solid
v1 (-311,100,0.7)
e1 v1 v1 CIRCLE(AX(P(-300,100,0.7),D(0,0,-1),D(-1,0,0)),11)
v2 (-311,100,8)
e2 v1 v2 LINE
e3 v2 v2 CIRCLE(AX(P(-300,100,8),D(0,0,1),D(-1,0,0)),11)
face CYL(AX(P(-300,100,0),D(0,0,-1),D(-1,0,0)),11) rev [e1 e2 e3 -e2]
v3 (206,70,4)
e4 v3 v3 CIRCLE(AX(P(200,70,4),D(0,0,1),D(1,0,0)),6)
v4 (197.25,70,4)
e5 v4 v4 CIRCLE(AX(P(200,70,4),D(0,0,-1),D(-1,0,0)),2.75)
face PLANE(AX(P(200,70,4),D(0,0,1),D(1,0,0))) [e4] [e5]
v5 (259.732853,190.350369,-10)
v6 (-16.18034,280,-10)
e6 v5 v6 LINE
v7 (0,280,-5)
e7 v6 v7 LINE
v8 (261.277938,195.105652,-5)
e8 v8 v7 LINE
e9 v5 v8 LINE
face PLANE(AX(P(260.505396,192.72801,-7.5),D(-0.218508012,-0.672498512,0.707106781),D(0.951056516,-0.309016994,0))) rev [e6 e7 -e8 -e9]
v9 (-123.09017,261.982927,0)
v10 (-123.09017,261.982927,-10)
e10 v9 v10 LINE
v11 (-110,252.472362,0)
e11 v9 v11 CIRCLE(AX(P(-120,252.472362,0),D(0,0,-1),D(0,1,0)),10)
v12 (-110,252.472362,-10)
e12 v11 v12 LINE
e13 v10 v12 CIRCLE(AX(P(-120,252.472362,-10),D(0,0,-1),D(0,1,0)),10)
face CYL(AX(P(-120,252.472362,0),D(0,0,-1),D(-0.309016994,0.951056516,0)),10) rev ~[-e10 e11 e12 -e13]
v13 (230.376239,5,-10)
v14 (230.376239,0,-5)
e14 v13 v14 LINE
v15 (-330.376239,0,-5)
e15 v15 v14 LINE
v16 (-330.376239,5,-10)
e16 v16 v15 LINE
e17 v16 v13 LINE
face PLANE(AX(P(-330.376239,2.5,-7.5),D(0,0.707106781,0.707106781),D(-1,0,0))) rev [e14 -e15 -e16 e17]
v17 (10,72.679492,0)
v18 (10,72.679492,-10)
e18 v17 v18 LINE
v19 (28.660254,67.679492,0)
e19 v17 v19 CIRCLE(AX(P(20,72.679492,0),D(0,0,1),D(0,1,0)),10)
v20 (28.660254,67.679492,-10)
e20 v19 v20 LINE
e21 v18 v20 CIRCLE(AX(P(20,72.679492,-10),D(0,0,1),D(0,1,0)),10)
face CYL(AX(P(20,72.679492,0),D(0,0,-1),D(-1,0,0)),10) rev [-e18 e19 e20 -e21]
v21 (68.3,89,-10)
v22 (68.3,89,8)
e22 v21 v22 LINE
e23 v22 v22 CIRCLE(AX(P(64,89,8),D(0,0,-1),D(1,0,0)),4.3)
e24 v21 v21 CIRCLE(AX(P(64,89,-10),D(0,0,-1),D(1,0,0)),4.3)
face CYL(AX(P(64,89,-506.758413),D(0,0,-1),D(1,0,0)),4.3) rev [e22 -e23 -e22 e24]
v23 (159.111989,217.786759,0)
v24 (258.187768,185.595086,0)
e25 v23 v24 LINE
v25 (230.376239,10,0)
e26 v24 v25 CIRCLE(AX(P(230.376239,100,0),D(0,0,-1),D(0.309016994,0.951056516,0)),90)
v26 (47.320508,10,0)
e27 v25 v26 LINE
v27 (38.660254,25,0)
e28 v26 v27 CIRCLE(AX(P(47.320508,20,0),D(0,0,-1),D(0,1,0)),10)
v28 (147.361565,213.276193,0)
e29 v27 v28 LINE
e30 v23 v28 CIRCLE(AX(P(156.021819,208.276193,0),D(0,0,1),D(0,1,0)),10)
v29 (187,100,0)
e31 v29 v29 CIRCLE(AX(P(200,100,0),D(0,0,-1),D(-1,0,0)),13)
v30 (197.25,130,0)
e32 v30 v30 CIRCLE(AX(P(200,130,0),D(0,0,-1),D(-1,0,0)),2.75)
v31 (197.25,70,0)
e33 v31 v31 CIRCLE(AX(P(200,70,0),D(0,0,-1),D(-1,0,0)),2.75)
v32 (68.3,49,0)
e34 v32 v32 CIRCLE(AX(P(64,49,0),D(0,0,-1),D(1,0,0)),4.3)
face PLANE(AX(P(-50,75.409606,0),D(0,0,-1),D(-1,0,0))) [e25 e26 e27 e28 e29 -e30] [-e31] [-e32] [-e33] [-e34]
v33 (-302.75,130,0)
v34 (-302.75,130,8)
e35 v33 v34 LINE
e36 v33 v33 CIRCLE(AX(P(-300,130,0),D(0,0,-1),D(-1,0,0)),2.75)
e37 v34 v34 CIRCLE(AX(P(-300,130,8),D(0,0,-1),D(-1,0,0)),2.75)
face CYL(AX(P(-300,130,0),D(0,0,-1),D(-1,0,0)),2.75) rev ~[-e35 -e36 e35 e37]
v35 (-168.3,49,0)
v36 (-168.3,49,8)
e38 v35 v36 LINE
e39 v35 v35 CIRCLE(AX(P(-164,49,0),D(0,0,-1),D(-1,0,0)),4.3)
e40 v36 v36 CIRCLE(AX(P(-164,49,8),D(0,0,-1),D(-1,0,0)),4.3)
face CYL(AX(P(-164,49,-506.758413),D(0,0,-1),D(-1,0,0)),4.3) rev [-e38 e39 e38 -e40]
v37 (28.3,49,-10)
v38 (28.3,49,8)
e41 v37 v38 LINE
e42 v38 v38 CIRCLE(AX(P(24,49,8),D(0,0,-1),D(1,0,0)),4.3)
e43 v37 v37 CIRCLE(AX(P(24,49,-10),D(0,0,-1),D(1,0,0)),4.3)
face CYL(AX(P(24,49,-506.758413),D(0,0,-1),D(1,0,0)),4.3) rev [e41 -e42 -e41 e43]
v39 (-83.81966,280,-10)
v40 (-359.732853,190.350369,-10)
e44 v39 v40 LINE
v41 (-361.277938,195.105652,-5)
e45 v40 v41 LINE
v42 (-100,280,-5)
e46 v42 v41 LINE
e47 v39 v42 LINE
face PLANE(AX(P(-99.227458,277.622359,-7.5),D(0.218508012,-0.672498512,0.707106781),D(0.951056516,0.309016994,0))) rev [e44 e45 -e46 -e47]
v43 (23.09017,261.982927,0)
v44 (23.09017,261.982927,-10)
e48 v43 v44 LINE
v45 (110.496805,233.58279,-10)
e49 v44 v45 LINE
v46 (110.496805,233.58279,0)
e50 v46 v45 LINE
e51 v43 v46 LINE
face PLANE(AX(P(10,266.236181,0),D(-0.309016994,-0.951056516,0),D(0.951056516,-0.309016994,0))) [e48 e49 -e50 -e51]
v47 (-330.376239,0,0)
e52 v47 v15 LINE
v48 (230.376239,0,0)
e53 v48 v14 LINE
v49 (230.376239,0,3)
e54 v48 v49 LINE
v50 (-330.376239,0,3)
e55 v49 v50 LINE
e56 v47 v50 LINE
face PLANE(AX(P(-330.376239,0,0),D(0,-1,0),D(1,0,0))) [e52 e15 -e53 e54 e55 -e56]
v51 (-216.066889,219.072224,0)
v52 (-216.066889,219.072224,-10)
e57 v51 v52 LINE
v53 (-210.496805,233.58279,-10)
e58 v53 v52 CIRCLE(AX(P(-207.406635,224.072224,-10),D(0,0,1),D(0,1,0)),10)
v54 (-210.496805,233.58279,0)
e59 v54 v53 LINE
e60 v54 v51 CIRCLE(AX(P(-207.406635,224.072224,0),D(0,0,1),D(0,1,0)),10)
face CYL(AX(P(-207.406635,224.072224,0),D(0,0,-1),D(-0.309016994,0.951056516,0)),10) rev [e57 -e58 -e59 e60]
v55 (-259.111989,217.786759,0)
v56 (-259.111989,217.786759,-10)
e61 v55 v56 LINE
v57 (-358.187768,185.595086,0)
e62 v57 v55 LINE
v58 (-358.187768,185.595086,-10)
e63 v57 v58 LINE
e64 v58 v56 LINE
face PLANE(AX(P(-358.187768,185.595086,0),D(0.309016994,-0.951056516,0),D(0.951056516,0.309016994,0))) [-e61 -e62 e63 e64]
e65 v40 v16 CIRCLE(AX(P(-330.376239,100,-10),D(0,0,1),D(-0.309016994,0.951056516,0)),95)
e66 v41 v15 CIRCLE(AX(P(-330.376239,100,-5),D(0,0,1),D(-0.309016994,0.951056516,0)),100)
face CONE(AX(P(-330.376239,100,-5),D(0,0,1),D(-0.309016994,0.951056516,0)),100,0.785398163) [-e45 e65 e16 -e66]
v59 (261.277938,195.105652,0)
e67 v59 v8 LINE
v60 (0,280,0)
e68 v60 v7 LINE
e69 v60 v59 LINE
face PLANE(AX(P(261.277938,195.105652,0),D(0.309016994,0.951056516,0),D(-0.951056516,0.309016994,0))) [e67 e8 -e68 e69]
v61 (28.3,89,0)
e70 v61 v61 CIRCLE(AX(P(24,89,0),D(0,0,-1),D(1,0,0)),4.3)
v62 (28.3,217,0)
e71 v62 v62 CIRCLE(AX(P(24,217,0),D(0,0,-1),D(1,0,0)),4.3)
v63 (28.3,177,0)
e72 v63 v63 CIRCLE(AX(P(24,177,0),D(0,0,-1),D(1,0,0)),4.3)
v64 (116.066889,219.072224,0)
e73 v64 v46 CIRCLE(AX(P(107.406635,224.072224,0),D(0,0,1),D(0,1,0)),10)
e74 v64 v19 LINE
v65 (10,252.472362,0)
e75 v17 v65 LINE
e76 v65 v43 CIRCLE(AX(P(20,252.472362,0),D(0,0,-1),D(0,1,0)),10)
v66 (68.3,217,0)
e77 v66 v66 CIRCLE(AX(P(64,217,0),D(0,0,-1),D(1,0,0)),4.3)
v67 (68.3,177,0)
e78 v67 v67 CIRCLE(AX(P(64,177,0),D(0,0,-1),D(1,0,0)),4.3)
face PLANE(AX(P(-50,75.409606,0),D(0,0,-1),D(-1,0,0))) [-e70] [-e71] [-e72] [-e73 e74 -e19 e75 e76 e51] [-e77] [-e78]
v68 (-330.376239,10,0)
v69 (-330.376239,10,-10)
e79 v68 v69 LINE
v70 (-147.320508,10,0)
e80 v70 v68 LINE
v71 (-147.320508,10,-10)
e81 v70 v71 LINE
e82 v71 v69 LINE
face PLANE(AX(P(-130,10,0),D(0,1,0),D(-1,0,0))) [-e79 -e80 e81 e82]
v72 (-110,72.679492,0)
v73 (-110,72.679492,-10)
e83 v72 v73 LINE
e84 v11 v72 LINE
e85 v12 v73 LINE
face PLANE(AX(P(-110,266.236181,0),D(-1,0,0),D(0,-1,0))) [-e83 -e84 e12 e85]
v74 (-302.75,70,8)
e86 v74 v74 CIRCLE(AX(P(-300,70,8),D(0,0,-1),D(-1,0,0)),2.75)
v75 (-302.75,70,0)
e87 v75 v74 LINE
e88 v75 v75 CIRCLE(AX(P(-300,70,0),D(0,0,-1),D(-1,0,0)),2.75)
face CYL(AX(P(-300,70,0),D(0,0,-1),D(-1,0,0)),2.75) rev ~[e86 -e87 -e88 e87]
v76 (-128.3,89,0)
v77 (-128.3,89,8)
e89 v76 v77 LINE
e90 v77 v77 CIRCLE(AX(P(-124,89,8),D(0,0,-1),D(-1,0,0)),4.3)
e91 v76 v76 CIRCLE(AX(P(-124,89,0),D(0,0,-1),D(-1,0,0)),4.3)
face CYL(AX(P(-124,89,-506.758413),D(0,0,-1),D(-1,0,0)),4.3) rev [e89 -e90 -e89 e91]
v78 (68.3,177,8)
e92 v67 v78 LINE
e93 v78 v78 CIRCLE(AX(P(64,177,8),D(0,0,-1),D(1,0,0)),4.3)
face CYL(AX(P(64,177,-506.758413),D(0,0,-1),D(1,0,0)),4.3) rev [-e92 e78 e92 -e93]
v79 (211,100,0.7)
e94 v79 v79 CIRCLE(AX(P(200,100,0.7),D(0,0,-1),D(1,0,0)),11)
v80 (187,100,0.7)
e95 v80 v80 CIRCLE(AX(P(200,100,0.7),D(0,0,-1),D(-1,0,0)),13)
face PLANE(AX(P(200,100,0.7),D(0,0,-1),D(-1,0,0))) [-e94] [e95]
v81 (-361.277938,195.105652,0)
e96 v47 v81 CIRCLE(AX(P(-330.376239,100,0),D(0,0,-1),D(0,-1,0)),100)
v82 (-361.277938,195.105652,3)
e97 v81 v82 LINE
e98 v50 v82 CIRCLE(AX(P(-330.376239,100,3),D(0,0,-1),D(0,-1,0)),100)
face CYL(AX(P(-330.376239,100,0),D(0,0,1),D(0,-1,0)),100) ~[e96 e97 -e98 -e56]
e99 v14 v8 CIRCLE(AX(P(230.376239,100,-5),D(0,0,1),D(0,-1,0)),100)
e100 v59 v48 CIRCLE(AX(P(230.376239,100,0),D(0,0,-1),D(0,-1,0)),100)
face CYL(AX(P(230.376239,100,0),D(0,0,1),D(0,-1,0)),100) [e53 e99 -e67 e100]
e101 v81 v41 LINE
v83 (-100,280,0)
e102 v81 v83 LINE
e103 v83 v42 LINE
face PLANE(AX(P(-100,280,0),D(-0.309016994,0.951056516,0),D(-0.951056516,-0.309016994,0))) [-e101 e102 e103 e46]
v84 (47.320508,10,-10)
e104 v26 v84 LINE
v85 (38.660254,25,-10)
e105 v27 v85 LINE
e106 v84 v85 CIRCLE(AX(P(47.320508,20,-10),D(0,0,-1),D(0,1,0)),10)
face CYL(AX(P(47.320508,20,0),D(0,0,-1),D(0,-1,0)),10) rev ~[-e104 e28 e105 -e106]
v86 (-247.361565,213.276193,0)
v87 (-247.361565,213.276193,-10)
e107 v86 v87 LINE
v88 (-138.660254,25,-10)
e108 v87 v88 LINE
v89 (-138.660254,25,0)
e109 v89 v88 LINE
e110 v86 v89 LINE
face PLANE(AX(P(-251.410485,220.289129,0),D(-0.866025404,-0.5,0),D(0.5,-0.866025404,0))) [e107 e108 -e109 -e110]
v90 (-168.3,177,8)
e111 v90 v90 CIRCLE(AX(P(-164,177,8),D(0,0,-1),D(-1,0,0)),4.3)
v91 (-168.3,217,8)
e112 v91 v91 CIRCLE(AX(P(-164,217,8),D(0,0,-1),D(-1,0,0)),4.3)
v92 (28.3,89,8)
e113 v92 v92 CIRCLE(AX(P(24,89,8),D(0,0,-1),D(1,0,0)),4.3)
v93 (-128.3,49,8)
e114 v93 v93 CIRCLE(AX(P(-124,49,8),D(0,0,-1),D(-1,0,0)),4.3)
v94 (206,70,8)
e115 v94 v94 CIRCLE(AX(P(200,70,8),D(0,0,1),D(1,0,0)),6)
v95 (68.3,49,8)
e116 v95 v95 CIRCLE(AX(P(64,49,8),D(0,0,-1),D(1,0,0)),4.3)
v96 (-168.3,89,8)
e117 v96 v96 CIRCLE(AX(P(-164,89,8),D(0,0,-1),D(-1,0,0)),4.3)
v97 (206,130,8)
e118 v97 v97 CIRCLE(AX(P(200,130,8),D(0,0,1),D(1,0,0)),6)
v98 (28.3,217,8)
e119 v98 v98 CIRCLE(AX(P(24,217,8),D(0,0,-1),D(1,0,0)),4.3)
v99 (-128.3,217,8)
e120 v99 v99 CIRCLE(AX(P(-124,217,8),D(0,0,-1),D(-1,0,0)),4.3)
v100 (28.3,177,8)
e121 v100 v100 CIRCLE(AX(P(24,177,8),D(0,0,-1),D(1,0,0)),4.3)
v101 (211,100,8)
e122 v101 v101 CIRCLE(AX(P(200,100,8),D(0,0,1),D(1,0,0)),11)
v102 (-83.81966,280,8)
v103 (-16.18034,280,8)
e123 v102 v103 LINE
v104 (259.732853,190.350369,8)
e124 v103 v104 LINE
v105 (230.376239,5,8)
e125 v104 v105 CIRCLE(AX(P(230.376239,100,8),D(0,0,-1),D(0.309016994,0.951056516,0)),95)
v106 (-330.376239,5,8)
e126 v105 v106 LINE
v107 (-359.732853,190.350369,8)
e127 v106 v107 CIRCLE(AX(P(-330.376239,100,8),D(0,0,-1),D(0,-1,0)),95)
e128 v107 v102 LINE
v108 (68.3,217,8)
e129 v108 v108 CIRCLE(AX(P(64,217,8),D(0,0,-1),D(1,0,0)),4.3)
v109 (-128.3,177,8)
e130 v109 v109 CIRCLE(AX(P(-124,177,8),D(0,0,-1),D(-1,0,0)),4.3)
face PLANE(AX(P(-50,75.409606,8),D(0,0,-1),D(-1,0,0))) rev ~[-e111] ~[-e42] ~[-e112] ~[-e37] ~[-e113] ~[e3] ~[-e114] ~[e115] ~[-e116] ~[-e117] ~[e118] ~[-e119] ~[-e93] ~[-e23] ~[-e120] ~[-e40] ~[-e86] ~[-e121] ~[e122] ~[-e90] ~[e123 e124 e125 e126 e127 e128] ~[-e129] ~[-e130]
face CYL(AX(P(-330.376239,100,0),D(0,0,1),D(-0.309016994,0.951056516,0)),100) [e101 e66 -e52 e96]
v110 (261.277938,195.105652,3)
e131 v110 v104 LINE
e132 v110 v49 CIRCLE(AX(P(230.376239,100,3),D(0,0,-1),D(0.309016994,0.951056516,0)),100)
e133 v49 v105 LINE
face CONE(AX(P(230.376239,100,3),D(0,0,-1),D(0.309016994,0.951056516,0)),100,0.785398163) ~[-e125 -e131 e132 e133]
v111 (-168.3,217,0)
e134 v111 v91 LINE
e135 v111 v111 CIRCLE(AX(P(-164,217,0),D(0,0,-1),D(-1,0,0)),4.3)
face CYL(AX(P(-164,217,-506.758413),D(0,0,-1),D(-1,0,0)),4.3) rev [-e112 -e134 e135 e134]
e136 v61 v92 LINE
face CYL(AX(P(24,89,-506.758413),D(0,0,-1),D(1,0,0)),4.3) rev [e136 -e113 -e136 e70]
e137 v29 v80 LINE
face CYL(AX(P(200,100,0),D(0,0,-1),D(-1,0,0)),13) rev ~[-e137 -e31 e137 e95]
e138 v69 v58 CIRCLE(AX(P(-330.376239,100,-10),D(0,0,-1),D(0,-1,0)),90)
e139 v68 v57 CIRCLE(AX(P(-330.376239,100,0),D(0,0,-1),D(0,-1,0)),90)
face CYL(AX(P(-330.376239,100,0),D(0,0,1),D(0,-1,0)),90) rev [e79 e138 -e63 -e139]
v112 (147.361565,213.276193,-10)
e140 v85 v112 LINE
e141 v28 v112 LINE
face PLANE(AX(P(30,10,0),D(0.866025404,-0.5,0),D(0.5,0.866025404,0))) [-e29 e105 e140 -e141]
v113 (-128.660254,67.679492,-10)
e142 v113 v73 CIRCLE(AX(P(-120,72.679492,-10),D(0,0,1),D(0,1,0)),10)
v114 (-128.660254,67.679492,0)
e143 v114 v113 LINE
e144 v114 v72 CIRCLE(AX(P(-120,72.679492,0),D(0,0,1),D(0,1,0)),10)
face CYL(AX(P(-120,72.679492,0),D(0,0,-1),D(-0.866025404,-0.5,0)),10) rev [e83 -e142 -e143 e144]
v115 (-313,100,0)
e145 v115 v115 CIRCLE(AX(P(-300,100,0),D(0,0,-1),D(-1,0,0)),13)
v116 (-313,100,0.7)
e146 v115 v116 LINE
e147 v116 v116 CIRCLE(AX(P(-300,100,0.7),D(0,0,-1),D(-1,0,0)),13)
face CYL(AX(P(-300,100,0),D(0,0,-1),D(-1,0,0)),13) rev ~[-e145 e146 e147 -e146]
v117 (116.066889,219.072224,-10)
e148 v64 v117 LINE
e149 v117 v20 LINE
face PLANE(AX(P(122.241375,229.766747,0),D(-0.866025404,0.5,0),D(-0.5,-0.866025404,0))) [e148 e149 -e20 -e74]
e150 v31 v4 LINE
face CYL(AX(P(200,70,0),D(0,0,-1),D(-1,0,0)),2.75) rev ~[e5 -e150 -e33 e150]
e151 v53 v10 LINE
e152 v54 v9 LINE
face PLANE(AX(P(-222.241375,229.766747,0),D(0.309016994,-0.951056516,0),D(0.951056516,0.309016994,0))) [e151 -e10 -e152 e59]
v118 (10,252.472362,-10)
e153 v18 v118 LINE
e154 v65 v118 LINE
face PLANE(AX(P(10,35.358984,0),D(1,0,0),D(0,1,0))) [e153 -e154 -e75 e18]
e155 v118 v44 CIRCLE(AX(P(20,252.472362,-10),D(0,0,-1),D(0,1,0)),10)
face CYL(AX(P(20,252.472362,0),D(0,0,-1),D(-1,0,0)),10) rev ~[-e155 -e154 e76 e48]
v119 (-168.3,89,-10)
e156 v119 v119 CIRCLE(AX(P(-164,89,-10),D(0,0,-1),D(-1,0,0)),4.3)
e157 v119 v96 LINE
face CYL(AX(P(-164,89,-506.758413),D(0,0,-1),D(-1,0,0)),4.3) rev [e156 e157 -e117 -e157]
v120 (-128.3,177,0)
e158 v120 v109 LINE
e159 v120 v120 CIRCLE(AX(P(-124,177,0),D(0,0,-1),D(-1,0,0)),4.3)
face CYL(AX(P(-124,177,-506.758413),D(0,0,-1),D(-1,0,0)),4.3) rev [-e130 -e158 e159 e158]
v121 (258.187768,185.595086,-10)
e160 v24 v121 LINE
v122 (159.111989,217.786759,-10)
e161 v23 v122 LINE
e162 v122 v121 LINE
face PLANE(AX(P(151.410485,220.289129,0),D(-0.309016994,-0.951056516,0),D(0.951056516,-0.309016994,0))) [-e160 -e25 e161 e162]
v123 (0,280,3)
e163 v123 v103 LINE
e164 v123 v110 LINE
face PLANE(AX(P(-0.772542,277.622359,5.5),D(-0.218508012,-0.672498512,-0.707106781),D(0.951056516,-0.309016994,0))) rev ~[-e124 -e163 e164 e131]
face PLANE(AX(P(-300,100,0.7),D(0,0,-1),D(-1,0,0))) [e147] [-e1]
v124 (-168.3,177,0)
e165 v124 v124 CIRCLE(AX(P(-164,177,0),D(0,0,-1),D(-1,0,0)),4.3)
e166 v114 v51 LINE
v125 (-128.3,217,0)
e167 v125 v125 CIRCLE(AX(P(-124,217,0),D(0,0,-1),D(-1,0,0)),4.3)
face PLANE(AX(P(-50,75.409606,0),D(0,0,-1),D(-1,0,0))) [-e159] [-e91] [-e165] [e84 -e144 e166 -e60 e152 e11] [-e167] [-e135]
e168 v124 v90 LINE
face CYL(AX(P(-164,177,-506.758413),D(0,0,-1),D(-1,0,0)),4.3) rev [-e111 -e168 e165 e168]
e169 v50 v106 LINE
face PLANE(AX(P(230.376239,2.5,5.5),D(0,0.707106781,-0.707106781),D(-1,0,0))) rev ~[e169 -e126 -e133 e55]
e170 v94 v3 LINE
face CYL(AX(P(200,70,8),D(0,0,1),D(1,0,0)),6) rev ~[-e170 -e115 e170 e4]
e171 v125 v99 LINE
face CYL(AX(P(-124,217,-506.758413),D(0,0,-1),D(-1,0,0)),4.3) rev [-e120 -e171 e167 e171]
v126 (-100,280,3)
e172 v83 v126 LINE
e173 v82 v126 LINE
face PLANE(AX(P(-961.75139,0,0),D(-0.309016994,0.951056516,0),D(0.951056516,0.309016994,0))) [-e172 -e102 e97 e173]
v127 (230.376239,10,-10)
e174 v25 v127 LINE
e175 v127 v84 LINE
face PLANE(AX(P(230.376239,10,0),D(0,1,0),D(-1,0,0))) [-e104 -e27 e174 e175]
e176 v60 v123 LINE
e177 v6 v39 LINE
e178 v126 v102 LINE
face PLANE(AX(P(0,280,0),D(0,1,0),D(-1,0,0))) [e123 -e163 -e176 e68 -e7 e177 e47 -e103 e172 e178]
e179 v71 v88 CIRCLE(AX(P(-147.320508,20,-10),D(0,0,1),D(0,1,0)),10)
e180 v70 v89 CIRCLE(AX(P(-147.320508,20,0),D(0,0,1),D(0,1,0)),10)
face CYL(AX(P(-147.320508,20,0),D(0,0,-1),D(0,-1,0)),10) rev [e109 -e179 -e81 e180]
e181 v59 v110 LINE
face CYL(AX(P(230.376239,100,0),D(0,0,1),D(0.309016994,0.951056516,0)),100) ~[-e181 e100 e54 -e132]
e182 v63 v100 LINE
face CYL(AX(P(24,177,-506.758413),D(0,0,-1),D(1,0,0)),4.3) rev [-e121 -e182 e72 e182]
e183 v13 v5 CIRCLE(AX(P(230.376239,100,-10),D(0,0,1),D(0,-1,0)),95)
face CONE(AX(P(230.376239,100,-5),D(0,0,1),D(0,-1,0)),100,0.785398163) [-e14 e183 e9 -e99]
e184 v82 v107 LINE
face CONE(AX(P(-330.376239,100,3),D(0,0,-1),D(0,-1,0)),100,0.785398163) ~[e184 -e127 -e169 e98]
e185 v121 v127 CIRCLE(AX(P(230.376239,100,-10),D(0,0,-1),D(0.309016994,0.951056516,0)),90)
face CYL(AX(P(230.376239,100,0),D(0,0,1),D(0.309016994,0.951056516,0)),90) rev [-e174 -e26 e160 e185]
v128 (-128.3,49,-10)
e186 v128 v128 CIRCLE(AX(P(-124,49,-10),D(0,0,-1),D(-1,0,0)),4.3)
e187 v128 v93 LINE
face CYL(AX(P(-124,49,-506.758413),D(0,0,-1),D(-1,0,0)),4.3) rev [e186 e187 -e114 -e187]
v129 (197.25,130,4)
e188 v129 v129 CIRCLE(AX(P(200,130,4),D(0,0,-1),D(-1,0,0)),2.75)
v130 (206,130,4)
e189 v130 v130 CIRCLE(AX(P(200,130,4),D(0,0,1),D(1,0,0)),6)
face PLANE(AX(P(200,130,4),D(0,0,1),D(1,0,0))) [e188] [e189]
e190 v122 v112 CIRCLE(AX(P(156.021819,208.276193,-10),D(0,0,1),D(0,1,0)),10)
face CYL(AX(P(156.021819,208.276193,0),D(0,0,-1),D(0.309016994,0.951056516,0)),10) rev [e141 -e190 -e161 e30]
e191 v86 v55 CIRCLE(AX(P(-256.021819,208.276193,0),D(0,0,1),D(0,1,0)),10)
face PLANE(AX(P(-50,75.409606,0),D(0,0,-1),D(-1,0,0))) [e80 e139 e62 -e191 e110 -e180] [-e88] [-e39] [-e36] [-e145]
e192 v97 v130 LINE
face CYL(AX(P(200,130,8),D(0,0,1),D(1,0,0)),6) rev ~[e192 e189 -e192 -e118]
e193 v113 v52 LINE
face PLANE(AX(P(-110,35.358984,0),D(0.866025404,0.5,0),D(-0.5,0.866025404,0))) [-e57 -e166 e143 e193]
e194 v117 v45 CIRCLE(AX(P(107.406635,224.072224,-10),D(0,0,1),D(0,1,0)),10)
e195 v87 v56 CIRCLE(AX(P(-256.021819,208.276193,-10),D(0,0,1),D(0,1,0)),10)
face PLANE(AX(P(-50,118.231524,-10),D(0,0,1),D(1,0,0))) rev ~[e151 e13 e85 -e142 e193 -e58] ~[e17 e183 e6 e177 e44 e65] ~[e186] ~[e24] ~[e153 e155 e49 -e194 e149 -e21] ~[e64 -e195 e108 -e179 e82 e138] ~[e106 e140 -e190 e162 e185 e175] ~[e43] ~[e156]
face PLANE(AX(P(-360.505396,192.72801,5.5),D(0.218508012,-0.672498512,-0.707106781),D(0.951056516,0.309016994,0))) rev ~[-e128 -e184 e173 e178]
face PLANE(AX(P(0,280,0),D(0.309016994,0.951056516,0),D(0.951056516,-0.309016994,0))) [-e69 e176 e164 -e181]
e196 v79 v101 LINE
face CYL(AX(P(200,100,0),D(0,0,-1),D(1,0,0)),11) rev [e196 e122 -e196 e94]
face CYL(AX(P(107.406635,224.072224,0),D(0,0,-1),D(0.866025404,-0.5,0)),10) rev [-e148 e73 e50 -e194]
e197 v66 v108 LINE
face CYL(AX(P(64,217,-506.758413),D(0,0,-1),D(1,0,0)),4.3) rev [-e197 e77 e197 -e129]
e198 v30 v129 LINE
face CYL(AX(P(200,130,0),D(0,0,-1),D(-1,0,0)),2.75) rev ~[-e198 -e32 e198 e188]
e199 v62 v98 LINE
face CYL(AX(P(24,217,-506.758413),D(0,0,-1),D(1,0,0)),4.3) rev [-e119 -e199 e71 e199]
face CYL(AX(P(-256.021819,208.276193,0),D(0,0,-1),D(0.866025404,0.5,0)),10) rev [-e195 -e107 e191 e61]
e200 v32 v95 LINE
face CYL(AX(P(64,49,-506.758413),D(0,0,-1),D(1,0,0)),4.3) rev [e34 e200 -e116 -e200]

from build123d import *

# Parameters (mm, degrees)
SKETCH_1_R               = 11
EXTRUDE_1_DEPTH          = 8
FILLET_1_R               = 100
FILLET_3_R               = 100
EXTRUDE_2_DEPTH          = 10
FILLET_2_R               = 10
CHAMFER_1_SIZE           = 5
SKETCH_4_R               = 13
CUT_EXTRUDE_1_DEPTH      = 0.7
SKETCH_5_R               = 2.75
CUT_EXTRUDE_2_DEPTH      = 514.540365546
SKETCH_6_R               = 6
CUT_EXTRUDE_3_DEPTH      = 4
CUT_EXTRUDE_4_DEPTH      = 514.758413114
CUT_EXTRUDE_4_DEPTH_BACK = 514.758413114
SKETCH_7_R               = 4.3


with BuildPart() as part:
    # 草图1 → 凸台-拉伸1 (new body)
    with BuildSketch(Plane.XY):
        Polygon((0, 280), (861.751390409, 0), (0, 0), (-100, 0), (-961.751390409, 0), (-100, 280), align=None)
        with Locations((200, 100)):
            Circle(SKETCH_1_R, mode=Mode.SUBTRACT)
        with Locations(Location((-300, 100, 0), (0, 0, 180))):
            Circle(SKETCH_1_R, mode=Mode.SUBTRACT)
    extrude(amount=EXTRUDE_1_DEPTH)

    # 圆角1
    fillet_1_edges = [part.edges().sort_by_distance(p)[0] for p in [
        (861.751390409, 0, 4),
    ]]
    fillet(fillet_1_edges, radius=FILLET_1_R)

    # 圆角3
    fillet_3_edges = [part.edges().sort_by_distance(p)[0] for p in [
        (-961.751390409, 0, 4),
    ]]
    fillet(fillet_3_edges, radius=FILLET_3_R)

    # 草图2 → 凸台-拉伸2 (add)
    with BuildSketch(Plane.XY):
        with BuildLine():
            Line((0, 280), (-100, 280))
            Line((-100, 280), (-361.277938379, 195.10565163))
            ThreePointArc((-361.277938379, 195.10565163), (-429.145073001, 84.356553496), (-330.376238942, 0))
            Line((-330.376238942, 0), (230.376238942, 0))
            ThreePointArc((230.376238942, 0), (329.145073001, 84.356553496), (261.277938379, 195.10565163))
            Line((261.277938379, 195.10565163), (0, 280))
        make_face()
        Polygon((10, 266.236180795), (122.241374643, 229.766747442), (10, 35.358983849), align=None, mode=Mode.SUBTRACT)
        with BuildLine():
            Line((230.376238942, 10), (30, 10))
            Line((30, 10), (151.410485182, 220.289128906))
            Line((151.410485182, 220.289128906), (258.187768435, 185.595086467))
            ThreePointArc((258.187768435, 185.595086467), (319.268189595, 85.920898146), (230.376238942, 10))
        make_face(mode=Mode.SUBTRACT)
        Polygon((-110, 266.236180795), (-110, 35.358983849), (-222.241374643, 229.766747442), align=None, mode=Mode.SUBTRACT)
        with BuildLine():
            Line((-358.187768435, 185.595086467), (-251.410485182, 220.289128906))
            Line((-251.410485182, 220.289128906), (-130, 10))
            Line((-130, 10), (-330.376238942, 10))
            ThreePointArc((-330.376238942, 10), (-419.268189595, 85.920898146), (-358.187768435, 185.595086467))
        make_face(mode=Mode.SUBTRACT)
    extrude(amount=-EXTRUDE_2_DEPTH)

    # 圆角2
    fillet_2_edges = [part.edges().sort_by_distance(p)[0] for p in [
        (-110, 35.358983849, -5),
        (-110, 266.236180795, -5),
        (-130, 10, -5),
        (10, 266.236180795, -5),
        (10, 35.358983849, -5),
        (151.410485182, 220.289128906, -5),
        (30, 10, -5),
        (-251.410485182, 220.289128906, -5),
        (122.241374643, 229.766747442, -5),
        (-222.241374643, 229.766747442, -5),
    ]]
    fillet(fillet_2_edges, radius=FILLET_2_R)

    # 倒角1
    chamfer_1_edges = [part.edges().sort_by_distance(p)[0] for p in [
        (-230.63896919, 237.552825815, 8),
        (130.63896919, 237.552825815, 8),
        (329.145073001, 84.356553496, 8),
        (-50, 0, 8),
        (-429.145073001, 84.356553496, 8),
        (-230.63896919, 237.552825815, -10),
        (130.63896919, 237.552825815, -10),
        (329.145073001, 84.356553496, -10),
        (-50, 0, -10),
        (-429.145073001, 84.356553496, -10),
    ]]
    chamfer(chamfer_1_edges, length=CHAMFER_1_SIZE)

    # 草图4 → 切除-拉伸1 (cut)
    with BuildSketch(Plane(origin=(0, 0, 0), x_dir=(-1, 0, 0), z_dir=(0, 0, -1))):
        with Locations((-200, 100)):
            Circle(SKETCH_4_R)
        with Locations((300, 100)):
            Circle(SKETCH_4_R)
    extrude(amount=-CUT_EXTRUDE_1_DEPTH, mode=Mode.SUBTRACT)

    # 草图5 → 切除-拉伸2 (cut, through all)
    with BuildSketch(Plane(origin=(0, 0, 0), x_dir=(-1, 0, 0), z_dir=(0, 0, -1))):
        with Locations((-200, 130)):
            Circle(SKETCH_5_R)
        with Locations((-200, 70)):
            Circle(SKETCH_5_R)
        with Locations((300, 130)):
            Circle(SKETCH_5_R)
        with Locations((300, 70)):
            Circle(SKETCH_5_R)
    extrude(amount=-CUT_EXTRUDE_2_DEPTH, mode=Mode.SUBTRACT)

    # 草图6 → 切除-拉伸3 (cut)
    with BuildSketch(Plane.XY.offset(8)):
        with Locations((200, 130)):
            Circle(SKETCH_6_R)
        with Locations((200, 70)):
            Circle(SKETCH_6_R)
    extrude(amount=-CUT_EXTRUDE_3_DEPTH, mode=Mode.SUBTRACT)

    # 草图7 → 切除-拉伸4 (cut, two sides: drawn at the far end of the back side and taken through both)
    with BuildSketch(Plane.XY.offset(8).offset(-CUT_EXTRUDE_4_DEPTH_BACK)):
        with Locations((64, 217)):
            Circle(SKETCH_7_R)
        with Locations((24, 217)):
            Circle(SKETCH_7_R)
        with Locations((64, 177)):
            Circle(SKETCH_7_R)
        with Locations((24, 177)):
            Circle(SKETCH_7_R)
        with Locations((64, 89)):
            Circle(SKETCH_7_R)
        with Locations((24, 89)):
            Circle(SKETCH_7_R)
        with Locations((64, 49)):
            Circle(SKETCH_7_R)
        with Locations((24, 49)):
            Circle(SKETCH_7_R)
        with Locations(Location((-124, 49, 0), (0, 0, 180))):
            Circle(SKETCH_7_R)
        with Locations(Location((-164, 49, 0), (0, 0, 180))):
            Circle(SKETCH_7_R)
        with Locations(Location((-124, 89, 0), (0, 0, 180))):
            Circle(SKETCH_7_R)
        with Locations(Location((-164, 89, 0), (0, 0, 180))):
            Circle(SKETCH_7_R)
        with Locations(Location((-124, 177, 0), (0, 0, 180))):
            Circle(SKETCH_7_R)
        with Locations(Location((-164, 177, 0), (0, 0, 180))):
            Circle(SKETCH_7_R)
        with Locations(Location((-124, 217, 0), (0, 0, 180))):
            Circle(SKETCH_7_R)
        with Locations(Location((-164, 217, 0), (0, 0, 180))):
            Circle(SKETCH_7_R)
    extrude(amount=CUT_EXTRUDE_4_DEPTH + CUT_EXTRUDE_4_DEPTH_BACK, mode=Mode.SUBTRACT)


solid = part.part
